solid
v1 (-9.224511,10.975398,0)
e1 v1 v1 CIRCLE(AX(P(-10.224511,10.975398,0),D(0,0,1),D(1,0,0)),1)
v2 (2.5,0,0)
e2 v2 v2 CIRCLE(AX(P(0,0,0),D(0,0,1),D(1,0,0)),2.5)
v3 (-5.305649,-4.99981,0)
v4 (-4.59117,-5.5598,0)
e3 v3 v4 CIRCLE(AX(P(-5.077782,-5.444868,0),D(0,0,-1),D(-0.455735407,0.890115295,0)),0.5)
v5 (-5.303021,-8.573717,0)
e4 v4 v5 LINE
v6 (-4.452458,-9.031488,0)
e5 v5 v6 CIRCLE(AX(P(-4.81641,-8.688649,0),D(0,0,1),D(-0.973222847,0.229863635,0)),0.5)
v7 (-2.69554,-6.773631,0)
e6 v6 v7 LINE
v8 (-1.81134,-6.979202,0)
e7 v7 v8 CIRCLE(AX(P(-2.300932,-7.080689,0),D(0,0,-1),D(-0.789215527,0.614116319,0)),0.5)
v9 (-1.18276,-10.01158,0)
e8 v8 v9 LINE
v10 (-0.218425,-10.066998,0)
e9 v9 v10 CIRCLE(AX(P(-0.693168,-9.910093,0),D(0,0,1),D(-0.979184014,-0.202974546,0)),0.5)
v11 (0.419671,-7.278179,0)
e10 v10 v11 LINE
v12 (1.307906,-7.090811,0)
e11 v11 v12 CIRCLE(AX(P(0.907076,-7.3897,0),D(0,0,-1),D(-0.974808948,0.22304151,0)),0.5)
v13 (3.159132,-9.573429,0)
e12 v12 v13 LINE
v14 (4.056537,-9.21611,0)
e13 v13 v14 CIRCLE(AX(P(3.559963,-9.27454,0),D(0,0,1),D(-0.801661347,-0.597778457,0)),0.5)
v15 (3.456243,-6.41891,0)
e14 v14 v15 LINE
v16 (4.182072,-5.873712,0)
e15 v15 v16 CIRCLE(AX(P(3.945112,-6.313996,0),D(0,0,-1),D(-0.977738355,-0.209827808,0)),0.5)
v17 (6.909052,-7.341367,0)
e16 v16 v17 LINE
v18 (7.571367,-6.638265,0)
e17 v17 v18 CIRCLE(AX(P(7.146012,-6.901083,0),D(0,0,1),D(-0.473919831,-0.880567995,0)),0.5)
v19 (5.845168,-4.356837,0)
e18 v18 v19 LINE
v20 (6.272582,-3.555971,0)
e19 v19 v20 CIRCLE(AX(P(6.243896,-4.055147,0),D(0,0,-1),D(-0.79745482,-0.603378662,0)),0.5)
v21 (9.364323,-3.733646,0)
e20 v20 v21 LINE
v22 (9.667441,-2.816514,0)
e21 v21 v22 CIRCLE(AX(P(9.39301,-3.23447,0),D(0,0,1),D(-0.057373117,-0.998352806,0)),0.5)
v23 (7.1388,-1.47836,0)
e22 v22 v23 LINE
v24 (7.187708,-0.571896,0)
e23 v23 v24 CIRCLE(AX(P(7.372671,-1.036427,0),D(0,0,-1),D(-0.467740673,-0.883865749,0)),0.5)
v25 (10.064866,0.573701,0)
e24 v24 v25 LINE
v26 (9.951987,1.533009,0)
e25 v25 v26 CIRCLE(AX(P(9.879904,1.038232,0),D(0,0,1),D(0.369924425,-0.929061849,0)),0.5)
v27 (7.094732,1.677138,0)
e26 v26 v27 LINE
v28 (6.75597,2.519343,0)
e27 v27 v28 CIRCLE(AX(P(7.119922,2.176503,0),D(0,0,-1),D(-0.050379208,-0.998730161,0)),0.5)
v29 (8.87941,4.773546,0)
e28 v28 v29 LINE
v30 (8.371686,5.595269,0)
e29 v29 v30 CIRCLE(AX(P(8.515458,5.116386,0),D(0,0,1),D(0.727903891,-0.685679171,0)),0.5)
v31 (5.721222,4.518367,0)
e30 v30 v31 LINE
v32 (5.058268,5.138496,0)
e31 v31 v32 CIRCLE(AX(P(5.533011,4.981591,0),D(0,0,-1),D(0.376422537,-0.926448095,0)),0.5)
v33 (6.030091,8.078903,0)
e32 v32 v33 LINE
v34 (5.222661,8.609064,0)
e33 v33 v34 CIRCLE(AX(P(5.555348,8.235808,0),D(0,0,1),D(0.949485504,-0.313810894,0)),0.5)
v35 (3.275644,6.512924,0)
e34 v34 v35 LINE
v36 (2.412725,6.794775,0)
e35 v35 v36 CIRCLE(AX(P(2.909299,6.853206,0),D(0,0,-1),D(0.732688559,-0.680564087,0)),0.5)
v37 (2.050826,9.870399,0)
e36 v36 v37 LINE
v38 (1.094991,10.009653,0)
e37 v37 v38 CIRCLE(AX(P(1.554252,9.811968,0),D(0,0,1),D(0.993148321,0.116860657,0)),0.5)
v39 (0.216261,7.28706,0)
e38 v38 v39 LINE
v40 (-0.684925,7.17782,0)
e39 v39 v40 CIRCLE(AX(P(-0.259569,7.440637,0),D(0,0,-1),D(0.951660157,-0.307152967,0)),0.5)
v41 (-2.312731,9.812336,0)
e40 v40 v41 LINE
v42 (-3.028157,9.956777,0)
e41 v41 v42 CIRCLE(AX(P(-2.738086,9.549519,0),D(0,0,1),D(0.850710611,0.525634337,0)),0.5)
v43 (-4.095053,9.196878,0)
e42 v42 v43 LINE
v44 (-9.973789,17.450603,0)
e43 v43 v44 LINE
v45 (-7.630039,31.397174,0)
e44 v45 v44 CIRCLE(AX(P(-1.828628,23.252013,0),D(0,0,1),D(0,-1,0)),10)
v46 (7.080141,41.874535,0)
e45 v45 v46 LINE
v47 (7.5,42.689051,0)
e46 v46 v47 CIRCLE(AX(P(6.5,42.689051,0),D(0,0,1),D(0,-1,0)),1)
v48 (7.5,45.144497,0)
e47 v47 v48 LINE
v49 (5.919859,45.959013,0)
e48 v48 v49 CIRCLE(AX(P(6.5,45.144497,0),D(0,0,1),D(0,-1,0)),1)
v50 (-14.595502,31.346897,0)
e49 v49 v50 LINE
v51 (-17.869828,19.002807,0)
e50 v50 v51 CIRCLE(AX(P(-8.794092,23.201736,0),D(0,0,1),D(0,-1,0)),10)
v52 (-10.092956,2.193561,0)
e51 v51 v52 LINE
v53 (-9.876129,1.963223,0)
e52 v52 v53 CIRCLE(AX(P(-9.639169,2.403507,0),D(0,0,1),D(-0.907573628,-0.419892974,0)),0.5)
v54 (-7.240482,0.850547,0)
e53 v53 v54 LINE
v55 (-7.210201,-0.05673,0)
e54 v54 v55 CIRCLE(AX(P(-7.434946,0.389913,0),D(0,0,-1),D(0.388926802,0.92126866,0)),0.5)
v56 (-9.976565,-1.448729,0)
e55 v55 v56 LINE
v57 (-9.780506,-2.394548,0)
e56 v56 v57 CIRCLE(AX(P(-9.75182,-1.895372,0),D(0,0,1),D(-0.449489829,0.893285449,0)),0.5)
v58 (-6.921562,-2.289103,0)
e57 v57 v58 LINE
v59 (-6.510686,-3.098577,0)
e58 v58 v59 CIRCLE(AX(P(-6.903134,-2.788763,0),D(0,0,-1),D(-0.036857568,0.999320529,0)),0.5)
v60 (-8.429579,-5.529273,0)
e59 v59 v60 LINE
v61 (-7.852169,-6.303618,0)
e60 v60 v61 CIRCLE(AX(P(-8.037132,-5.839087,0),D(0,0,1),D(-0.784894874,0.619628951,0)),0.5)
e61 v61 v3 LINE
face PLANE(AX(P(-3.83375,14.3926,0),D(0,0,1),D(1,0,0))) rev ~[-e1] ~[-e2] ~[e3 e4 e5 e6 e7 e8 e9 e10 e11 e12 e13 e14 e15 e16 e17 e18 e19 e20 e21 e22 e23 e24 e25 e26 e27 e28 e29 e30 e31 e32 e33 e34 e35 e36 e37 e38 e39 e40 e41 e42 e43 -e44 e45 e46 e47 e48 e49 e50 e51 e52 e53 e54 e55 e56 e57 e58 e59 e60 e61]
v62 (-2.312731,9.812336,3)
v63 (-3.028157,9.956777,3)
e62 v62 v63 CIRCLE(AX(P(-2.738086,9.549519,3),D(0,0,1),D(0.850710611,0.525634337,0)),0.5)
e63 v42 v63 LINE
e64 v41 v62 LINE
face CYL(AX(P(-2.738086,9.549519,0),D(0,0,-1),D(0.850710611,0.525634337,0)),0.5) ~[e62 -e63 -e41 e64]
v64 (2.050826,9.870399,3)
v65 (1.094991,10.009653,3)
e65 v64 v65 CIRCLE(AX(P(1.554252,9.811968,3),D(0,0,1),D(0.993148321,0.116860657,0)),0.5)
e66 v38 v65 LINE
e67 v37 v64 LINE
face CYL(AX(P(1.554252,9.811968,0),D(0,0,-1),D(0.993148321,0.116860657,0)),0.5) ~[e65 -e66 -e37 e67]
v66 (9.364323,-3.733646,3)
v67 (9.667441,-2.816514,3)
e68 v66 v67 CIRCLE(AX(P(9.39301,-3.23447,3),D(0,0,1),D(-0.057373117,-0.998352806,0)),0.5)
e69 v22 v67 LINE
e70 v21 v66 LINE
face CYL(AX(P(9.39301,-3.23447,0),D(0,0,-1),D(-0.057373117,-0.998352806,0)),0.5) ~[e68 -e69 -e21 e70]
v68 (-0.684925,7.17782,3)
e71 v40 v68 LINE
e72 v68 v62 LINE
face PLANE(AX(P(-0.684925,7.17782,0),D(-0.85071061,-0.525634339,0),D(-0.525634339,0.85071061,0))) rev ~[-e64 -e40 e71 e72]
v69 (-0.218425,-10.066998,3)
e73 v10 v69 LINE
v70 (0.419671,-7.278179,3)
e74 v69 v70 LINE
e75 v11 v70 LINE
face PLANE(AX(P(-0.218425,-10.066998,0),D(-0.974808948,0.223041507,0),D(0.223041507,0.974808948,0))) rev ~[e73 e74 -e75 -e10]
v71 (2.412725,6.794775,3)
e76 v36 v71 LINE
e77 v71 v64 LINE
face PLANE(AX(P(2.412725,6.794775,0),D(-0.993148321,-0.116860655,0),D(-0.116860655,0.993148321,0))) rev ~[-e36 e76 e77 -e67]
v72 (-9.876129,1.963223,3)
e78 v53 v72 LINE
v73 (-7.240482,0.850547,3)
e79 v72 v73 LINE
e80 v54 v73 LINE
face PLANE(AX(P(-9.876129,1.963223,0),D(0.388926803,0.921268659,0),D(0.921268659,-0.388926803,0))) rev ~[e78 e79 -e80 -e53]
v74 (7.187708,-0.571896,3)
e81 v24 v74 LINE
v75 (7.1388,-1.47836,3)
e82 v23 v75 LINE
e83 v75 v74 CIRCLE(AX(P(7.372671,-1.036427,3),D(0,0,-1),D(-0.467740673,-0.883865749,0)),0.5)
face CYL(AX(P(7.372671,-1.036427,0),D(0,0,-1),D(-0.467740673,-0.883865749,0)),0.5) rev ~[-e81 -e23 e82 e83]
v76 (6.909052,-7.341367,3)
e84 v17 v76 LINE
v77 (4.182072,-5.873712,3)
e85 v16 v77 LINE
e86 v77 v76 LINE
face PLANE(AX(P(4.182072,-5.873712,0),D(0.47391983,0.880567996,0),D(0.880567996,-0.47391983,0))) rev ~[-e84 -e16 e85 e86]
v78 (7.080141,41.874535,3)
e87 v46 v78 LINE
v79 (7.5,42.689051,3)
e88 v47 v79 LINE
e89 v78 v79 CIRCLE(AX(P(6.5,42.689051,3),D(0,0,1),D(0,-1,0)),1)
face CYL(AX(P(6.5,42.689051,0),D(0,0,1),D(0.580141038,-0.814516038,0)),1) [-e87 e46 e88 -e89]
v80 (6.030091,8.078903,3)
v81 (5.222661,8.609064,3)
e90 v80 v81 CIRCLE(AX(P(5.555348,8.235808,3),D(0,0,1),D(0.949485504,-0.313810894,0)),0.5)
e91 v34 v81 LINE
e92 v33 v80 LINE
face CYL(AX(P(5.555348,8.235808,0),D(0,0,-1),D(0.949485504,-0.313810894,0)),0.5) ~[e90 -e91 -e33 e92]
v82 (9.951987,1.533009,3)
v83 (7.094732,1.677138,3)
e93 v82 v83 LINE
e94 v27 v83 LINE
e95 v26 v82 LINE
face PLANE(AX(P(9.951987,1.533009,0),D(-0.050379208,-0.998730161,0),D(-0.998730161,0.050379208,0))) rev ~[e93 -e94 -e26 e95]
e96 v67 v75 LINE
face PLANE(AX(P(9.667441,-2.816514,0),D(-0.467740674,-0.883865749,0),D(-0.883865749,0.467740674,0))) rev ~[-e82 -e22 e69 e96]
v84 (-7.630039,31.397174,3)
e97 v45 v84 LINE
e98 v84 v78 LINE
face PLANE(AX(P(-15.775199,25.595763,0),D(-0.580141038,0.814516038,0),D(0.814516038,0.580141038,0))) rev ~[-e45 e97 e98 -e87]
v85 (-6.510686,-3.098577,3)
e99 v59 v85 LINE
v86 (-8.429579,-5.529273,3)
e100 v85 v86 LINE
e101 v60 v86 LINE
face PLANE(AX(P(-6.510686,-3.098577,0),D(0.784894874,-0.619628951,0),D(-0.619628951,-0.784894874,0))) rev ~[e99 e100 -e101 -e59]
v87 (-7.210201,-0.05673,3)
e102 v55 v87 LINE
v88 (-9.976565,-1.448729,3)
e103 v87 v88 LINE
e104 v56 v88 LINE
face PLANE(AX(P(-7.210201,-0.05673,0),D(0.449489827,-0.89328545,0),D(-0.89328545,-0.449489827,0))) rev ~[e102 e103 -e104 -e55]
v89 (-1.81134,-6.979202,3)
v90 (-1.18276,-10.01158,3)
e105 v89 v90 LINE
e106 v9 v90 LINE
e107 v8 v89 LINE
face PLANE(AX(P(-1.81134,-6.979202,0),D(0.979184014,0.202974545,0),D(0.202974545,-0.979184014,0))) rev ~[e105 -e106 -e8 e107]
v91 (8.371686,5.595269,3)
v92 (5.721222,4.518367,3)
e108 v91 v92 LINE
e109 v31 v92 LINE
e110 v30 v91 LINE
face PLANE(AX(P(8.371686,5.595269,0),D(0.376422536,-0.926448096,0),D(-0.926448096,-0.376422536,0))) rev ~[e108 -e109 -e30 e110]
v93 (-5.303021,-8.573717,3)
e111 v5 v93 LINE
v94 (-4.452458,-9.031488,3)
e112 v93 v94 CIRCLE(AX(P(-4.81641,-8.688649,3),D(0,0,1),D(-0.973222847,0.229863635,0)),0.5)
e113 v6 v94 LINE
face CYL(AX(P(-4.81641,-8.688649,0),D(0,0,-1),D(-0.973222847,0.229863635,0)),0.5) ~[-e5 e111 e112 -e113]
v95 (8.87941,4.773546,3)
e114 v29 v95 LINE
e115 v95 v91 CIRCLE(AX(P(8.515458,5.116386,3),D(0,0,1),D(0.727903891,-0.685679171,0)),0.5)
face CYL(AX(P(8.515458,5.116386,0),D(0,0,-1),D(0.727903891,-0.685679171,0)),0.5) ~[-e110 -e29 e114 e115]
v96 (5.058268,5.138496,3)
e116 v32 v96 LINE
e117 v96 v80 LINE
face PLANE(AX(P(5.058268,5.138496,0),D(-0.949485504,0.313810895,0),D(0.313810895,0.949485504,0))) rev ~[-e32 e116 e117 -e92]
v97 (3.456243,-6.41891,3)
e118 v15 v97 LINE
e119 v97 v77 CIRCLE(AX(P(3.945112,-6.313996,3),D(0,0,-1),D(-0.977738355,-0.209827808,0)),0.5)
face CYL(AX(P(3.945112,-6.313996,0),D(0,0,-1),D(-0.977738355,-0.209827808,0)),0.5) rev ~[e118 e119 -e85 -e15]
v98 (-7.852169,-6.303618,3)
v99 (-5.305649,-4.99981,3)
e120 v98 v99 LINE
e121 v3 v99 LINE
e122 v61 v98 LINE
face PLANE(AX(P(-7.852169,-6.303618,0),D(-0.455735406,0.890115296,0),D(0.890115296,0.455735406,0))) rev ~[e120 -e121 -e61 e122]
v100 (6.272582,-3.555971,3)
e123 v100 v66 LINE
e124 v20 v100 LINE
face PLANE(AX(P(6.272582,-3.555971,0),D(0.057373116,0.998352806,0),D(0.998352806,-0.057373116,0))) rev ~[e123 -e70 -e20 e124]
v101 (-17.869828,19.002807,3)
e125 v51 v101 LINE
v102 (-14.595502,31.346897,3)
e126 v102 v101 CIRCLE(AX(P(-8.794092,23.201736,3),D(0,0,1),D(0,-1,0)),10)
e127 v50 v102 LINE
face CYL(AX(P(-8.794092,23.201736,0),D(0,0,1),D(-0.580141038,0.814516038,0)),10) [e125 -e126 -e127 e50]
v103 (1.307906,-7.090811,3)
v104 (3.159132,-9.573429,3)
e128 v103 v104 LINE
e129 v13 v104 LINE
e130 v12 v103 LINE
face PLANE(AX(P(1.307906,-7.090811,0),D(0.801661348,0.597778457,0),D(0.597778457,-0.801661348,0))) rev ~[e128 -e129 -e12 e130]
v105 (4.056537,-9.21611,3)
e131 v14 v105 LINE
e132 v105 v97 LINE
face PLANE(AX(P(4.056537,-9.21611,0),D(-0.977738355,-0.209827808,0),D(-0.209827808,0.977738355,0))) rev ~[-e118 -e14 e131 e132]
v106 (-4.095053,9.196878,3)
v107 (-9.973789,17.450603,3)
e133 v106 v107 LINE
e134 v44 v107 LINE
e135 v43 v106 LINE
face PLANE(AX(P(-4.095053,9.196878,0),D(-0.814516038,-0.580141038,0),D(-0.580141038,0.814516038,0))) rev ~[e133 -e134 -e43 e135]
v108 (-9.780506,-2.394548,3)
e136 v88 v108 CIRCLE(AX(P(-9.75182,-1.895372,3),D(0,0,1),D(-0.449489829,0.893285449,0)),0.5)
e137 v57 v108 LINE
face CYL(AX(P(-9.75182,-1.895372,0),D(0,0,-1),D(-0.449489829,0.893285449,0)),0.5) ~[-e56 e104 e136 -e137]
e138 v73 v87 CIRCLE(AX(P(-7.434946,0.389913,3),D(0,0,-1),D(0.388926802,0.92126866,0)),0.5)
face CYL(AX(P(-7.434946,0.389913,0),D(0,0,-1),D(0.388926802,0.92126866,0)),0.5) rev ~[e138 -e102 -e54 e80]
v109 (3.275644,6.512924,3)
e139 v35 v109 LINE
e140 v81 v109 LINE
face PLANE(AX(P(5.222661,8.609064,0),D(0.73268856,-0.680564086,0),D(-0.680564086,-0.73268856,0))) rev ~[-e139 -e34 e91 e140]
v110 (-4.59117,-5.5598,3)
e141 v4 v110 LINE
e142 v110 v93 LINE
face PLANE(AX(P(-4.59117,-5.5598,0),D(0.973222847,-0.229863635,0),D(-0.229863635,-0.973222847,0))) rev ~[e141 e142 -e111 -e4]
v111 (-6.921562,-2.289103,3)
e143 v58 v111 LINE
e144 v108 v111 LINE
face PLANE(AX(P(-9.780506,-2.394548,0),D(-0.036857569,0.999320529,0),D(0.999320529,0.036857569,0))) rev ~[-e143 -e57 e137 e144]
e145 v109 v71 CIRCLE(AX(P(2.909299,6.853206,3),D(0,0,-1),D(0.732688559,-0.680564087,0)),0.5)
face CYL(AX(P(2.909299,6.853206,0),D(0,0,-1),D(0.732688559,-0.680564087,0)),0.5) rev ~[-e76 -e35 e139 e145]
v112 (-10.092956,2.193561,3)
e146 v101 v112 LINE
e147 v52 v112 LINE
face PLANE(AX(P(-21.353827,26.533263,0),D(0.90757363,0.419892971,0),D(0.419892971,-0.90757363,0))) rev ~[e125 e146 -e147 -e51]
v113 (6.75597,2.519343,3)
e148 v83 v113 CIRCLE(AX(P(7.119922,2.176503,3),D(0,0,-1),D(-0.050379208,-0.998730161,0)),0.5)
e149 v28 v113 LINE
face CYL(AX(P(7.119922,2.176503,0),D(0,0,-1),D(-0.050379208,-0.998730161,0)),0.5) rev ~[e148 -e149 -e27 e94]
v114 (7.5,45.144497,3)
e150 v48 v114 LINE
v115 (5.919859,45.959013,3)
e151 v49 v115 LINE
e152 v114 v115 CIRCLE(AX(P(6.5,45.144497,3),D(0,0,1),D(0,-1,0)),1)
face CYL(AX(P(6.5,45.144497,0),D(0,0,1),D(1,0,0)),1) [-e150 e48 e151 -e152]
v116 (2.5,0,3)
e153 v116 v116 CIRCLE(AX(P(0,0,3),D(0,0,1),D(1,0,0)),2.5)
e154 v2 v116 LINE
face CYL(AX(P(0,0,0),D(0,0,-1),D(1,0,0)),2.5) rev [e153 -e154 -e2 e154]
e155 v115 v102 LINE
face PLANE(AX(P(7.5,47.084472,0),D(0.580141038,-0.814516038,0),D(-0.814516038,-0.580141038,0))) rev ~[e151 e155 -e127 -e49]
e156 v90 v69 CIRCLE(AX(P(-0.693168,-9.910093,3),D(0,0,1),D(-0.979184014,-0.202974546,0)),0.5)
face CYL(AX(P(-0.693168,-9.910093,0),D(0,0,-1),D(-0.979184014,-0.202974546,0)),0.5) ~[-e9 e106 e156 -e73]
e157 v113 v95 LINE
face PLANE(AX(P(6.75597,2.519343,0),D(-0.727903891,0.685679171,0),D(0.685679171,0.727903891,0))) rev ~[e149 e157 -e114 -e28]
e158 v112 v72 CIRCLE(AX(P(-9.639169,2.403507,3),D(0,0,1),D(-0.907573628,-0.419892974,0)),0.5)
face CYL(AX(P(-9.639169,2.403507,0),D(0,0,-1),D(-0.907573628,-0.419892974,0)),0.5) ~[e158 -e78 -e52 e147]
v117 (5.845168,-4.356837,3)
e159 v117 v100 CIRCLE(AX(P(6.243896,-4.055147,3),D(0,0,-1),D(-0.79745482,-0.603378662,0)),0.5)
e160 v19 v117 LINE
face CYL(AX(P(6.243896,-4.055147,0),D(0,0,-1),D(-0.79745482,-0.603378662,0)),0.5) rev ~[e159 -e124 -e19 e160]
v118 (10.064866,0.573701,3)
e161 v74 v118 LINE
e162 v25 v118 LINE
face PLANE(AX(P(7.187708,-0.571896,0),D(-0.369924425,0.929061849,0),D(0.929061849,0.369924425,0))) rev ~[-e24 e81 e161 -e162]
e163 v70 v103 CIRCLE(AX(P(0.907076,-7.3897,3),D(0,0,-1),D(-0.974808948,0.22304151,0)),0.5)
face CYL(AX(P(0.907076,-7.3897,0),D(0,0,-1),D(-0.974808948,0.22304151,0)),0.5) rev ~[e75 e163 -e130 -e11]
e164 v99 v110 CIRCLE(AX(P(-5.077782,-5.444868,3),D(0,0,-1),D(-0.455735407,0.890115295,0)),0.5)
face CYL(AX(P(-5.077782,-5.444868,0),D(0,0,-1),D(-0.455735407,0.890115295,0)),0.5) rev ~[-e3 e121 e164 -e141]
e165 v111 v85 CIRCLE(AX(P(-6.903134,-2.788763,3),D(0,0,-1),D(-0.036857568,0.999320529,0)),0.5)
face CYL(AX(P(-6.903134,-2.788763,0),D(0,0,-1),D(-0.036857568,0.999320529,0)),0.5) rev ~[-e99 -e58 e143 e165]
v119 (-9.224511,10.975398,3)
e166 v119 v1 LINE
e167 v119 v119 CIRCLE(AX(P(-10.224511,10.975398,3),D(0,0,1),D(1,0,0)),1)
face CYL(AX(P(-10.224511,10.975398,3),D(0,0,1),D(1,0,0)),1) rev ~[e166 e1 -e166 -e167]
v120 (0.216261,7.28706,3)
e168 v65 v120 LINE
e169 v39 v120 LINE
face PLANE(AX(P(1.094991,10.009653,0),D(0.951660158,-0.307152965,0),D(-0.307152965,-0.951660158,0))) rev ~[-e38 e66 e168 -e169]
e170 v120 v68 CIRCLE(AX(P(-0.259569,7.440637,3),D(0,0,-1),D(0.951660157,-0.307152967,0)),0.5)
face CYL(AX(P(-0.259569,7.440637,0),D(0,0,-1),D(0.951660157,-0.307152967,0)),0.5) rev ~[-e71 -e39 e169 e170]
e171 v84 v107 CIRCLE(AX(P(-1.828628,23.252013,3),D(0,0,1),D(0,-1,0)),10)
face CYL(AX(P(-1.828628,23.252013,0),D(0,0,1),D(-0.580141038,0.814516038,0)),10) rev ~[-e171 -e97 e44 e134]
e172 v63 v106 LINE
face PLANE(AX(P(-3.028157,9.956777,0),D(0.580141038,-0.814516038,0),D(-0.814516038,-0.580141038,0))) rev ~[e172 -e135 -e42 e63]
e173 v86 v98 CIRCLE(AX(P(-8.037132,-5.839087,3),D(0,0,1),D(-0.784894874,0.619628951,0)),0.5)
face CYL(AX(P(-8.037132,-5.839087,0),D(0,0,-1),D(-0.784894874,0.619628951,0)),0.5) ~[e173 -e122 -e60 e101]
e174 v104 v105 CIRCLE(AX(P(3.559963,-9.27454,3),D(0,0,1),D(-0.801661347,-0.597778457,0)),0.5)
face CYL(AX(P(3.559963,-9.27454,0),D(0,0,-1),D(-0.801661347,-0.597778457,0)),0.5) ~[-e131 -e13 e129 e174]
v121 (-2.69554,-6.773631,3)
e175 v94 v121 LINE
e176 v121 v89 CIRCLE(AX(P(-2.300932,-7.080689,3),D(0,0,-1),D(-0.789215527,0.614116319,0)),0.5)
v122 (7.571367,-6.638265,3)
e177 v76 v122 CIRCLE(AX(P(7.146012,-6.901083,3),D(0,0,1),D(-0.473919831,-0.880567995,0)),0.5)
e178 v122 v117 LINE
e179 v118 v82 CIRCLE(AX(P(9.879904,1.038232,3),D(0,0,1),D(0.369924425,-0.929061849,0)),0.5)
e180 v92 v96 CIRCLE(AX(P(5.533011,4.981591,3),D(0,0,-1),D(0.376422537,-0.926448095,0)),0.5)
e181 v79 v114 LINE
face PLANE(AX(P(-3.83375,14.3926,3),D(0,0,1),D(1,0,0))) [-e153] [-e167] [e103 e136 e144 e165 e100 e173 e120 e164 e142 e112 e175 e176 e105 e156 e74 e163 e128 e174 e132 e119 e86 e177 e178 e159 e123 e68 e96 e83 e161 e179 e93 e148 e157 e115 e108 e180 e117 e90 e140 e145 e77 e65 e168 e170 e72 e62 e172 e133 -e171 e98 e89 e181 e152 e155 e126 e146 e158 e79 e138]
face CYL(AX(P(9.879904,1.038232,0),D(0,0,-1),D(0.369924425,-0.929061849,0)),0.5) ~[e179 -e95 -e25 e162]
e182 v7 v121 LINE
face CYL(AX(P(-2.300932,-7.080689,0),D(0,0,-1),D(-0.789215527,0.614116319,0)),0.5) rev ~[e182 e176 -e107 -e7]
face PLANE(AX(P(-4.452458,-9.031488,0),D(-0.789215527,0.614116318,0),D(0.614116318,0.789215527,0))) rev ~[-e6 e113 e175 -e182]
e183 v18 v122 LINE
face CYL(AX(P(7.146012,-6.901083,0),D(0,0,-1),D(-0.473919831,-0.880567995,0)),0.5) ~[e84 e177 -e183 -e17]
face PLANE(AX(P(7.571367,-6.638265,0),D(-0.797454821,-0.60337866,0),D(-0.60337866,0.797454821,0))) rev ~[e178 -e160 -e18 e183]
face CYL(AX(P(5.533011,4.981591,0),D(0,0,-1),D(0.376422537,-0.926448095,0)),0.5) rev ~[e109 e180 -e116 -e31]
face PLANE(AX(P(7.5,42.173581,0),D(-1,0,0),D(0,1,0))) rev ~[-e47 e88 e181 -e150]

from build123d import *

# Parameters (mm, degrees)
SKETCH1_R           = 2.5
BOSS_EXTRUDE1_DEPTH = 3
FILLET1_R           = 10
FILLET2_R           = 1
SKETCH2_R           = 1
CUT_EXTRUDE1_DEPTH  = 5


with BuildPart() as part:
    # Sketch1 → Boss-Extrude1 (new body)
    with BuildSketch(Plane.XY):
        with BuildLine():
            Line((-15.775199063, 25.595763214), (7.5, 42.17358061))
            Line((7.5, 42.17358061), (7.5, 47.084472248))
            Line((7.5, 47.084472248), (-21.353827366, 26.533263214))
            Line((-21.353827366, 26.533263214), (-10.092955814, 2.19356054))
            ThreePointArc((-10.092955814, 2.19356054), (-10.003238503, 2.060792281), (-9.876128914, 1.963223028))
            Line((-9.876128914, 1.963223028), (-7.240482475, 0.850547008))
            ThreePointArc((-7.240482475, 0.850547008), (-6.935224137, 0.406591519), (-7.210200963, -0.056730047))
            Line((-7.210200963, -0.056730047), (-9.9765648, -1.448728989))
            ThreePointArc((-9.9765648, -1.448728989), (-10.241411893, -1.996858986), (-9.780506444, -2.394548117))
            Line((-9.780506444, -2.394548117), (-6.921562347, -2.289102741))
            ThreePointArc((-6.921562347, -2.289102741), (-6.457280642, -2.56245531), (-6.510686125, -3.098577481))
            Line((-6.510686125, -3.098577481), (-8.429579039, -5.529272837))
            ThreePointArc((-8.429579039, -5.529272837), (-8.437962276, -6.137976541), (-7.852169389, -6.303618237))
            Line((-7.852169389, -6.303618237), (-5.305649232, -4.999810287))
            ThreePointArc((-5.305649232, -4.999810287), (-4.76934332, -5.051337921), (-4.591170105, -5.559799752))
            Line((-4.591170105, -5.559799752), (-5.303021449, -8.57371707))
            ThreePointArc((-5.303021449, -8.57371707), (-5.053369941, -9.128932885), (-4.45245808, -9.031488473))
            Line((-4.45245808, -9.031488473), (-2.695540082, -6.773631253))
            ThreePointArc((-2.695540082, -6.773631253), (-2.187705338, -6.593678477), (-1.811340311, -6.979202139))
            Line((-1.811340311, -6.979202139), (-1.182760229, -10.011580251))
            ThreePointArc((-1.182760229, -10.011580251), (-0.721854781, -10.409269381), (-0.21842547, -10.066998426))
            Line((-0.21842547, -10.066998426), (0.419671299, -7.278179214))
            ThreePointArc((0.419671299, -7.278179214), (0.803874553, -6.900466376), (1.307906448, -7.09081074))
            Line((1.307906448, -7.09081074), (3.159131837, -9.573429214))
            ThreePointArc((3.159131837, -9.573429214), (3.744924723, -9.73907091), (4.056536671, -9.216109658))
            Line((4.056536671, -9.216109658), (3.456242815, -6.418909742))
            ThreePointArc((3.456242815, -6.418909742), (3.644820872, -5.914214344), (4.182071907, -5.87371184))
            Line((4.182071907, -5.87371184), (6.909051797, -7.34136664))
            ThreePointArc((6.909051797, -7.34136664), (7.509963658, -7.243922228), (7.571367017, -6.638265473))
            Line((7.571367017, -6.638265473), (5.845168255, -4.356836553))
            ThreePointArc((5.845168255, -4.356836553), (5.802784524, -3.819730653), (6.272582224, -3.55597082))
            Line((6.272582224, -3.55597082), (9.364323053, -3.733646292))
            ThreePointArc((9.364323053, -3.733646292), (9.867752363, -3.391375337), (9.667441101, -2.816513723))
            Line((9.667441101, -2.816513723), (7.138800197, -1.478360048))
            ThreePointArc((7.138800197, -1.478360048), (6.87339673, -1.009488927), (7.187708321, -0.571896249))
            Line((7.187708321, -0.571896249), (10.064866009, 0.573701222))
            ThreePointArc((10.064866009, 0.573701222), (10.376477957, 1.096662475), (9.951987284, 1.533008835))
            Line((9.951987284, 1.533008835), (7.094732162, 1.677138107))
            ThreePointArc((7.094732162, 1.677138107), (6.656041435, 1.989915303), (6.75596982, 2.519342773))
            Line((6.75596982, 2.519342773), (8.879409827, 4.773546063))
            ThreePointArc((8.879409827, 4.773546063), (8.940813186, 5.379202818), (8.371686043, 5.595269411))
            Line((8.371686043, 5.595269411), (5.721221814, 4.5183667))
            ThreePointArc((5.721221814, 4.5183667), (5.191447637, 4.616440396), (5.058267794, 5.138496195))
            Line((5.058267794, 5.138496195), (6.030090531, 8.078902715))
            ThreePointArc((6.030090531, 8.078902715), (5.829779269, 8.653764329), (5.222661219, 8.609063642))
            Line((5.222661219, 8.609063642), (3.275643601, 6.512923743))
            ThreePointArc((3.275643601, 6.512923743), (2.754057404, 6.377916456), (2.41272516, 6.794775458))
            Line((2.41272516, 6.794775458), (2.050826183, 9.870398819))
            ThreePointArc((2.050826183, 9.870398819), (1.62633551, 10.306745179), (1.09499102, 10.009653423))
            Line((1.09499102, 10.009653423), (0.216260792, 7.287060309))
            ThreePointArc((0.216260792, 7.287060309), (-0.199400295, 6.944270302), (-0.684924592, 7.177819622))
            Line((-0.684924592, 7.177819622), (-2.312731053, 9.812335907))
            ThreePointArc((-2.312731053, 9.812335907), (-2.639135445, 10.039629661), (-3.028156876, 9.956776757))
            Line((-3.028156876, 9.956776757), (-4.095052713, 9.19687759))
            Line((-4.095052713, 9.19687759), (-15.775199063, 25.595763214))
        make_face()
        Circle(SKETCH1_R, mode=Mode.SUBTRACT)
    extrude(amount=BOSS_EXTRUDE1_DEPTH)

    # Fillet1
    fillet1_edges = [part.edges().sort_by_distance(p)[0] for p in [
        (-21.353827366, 26.533263214, 1.5),
        (-15.775199063, 25.595763214, 1.5),
    ]]
    fillet(fillet1_edges, radius=FILLET1_R)

    # Fillet2
    fillet2_edges = [part.edges().sort_by_distance(p)[0] for p in [
        (7.5, 47.084472248, 1.5),
        (7.5, 42.17358061, 1.5),
    ]]
    fillet(fillet2_edges, radius=FILLET2_R)

    # Sketch2 → Cut-Extrude1 (cut)
    with BuildSketch(Plane.XY.offset(3)):
        with Locations((-10.224511364, 10.975398278)):
            Circle(SKETCH2_R)
    extrude(amount=-CUT_EXTRUDE1_DEPTH, mode=Mode.SUBTRACT)


solid = part.part
